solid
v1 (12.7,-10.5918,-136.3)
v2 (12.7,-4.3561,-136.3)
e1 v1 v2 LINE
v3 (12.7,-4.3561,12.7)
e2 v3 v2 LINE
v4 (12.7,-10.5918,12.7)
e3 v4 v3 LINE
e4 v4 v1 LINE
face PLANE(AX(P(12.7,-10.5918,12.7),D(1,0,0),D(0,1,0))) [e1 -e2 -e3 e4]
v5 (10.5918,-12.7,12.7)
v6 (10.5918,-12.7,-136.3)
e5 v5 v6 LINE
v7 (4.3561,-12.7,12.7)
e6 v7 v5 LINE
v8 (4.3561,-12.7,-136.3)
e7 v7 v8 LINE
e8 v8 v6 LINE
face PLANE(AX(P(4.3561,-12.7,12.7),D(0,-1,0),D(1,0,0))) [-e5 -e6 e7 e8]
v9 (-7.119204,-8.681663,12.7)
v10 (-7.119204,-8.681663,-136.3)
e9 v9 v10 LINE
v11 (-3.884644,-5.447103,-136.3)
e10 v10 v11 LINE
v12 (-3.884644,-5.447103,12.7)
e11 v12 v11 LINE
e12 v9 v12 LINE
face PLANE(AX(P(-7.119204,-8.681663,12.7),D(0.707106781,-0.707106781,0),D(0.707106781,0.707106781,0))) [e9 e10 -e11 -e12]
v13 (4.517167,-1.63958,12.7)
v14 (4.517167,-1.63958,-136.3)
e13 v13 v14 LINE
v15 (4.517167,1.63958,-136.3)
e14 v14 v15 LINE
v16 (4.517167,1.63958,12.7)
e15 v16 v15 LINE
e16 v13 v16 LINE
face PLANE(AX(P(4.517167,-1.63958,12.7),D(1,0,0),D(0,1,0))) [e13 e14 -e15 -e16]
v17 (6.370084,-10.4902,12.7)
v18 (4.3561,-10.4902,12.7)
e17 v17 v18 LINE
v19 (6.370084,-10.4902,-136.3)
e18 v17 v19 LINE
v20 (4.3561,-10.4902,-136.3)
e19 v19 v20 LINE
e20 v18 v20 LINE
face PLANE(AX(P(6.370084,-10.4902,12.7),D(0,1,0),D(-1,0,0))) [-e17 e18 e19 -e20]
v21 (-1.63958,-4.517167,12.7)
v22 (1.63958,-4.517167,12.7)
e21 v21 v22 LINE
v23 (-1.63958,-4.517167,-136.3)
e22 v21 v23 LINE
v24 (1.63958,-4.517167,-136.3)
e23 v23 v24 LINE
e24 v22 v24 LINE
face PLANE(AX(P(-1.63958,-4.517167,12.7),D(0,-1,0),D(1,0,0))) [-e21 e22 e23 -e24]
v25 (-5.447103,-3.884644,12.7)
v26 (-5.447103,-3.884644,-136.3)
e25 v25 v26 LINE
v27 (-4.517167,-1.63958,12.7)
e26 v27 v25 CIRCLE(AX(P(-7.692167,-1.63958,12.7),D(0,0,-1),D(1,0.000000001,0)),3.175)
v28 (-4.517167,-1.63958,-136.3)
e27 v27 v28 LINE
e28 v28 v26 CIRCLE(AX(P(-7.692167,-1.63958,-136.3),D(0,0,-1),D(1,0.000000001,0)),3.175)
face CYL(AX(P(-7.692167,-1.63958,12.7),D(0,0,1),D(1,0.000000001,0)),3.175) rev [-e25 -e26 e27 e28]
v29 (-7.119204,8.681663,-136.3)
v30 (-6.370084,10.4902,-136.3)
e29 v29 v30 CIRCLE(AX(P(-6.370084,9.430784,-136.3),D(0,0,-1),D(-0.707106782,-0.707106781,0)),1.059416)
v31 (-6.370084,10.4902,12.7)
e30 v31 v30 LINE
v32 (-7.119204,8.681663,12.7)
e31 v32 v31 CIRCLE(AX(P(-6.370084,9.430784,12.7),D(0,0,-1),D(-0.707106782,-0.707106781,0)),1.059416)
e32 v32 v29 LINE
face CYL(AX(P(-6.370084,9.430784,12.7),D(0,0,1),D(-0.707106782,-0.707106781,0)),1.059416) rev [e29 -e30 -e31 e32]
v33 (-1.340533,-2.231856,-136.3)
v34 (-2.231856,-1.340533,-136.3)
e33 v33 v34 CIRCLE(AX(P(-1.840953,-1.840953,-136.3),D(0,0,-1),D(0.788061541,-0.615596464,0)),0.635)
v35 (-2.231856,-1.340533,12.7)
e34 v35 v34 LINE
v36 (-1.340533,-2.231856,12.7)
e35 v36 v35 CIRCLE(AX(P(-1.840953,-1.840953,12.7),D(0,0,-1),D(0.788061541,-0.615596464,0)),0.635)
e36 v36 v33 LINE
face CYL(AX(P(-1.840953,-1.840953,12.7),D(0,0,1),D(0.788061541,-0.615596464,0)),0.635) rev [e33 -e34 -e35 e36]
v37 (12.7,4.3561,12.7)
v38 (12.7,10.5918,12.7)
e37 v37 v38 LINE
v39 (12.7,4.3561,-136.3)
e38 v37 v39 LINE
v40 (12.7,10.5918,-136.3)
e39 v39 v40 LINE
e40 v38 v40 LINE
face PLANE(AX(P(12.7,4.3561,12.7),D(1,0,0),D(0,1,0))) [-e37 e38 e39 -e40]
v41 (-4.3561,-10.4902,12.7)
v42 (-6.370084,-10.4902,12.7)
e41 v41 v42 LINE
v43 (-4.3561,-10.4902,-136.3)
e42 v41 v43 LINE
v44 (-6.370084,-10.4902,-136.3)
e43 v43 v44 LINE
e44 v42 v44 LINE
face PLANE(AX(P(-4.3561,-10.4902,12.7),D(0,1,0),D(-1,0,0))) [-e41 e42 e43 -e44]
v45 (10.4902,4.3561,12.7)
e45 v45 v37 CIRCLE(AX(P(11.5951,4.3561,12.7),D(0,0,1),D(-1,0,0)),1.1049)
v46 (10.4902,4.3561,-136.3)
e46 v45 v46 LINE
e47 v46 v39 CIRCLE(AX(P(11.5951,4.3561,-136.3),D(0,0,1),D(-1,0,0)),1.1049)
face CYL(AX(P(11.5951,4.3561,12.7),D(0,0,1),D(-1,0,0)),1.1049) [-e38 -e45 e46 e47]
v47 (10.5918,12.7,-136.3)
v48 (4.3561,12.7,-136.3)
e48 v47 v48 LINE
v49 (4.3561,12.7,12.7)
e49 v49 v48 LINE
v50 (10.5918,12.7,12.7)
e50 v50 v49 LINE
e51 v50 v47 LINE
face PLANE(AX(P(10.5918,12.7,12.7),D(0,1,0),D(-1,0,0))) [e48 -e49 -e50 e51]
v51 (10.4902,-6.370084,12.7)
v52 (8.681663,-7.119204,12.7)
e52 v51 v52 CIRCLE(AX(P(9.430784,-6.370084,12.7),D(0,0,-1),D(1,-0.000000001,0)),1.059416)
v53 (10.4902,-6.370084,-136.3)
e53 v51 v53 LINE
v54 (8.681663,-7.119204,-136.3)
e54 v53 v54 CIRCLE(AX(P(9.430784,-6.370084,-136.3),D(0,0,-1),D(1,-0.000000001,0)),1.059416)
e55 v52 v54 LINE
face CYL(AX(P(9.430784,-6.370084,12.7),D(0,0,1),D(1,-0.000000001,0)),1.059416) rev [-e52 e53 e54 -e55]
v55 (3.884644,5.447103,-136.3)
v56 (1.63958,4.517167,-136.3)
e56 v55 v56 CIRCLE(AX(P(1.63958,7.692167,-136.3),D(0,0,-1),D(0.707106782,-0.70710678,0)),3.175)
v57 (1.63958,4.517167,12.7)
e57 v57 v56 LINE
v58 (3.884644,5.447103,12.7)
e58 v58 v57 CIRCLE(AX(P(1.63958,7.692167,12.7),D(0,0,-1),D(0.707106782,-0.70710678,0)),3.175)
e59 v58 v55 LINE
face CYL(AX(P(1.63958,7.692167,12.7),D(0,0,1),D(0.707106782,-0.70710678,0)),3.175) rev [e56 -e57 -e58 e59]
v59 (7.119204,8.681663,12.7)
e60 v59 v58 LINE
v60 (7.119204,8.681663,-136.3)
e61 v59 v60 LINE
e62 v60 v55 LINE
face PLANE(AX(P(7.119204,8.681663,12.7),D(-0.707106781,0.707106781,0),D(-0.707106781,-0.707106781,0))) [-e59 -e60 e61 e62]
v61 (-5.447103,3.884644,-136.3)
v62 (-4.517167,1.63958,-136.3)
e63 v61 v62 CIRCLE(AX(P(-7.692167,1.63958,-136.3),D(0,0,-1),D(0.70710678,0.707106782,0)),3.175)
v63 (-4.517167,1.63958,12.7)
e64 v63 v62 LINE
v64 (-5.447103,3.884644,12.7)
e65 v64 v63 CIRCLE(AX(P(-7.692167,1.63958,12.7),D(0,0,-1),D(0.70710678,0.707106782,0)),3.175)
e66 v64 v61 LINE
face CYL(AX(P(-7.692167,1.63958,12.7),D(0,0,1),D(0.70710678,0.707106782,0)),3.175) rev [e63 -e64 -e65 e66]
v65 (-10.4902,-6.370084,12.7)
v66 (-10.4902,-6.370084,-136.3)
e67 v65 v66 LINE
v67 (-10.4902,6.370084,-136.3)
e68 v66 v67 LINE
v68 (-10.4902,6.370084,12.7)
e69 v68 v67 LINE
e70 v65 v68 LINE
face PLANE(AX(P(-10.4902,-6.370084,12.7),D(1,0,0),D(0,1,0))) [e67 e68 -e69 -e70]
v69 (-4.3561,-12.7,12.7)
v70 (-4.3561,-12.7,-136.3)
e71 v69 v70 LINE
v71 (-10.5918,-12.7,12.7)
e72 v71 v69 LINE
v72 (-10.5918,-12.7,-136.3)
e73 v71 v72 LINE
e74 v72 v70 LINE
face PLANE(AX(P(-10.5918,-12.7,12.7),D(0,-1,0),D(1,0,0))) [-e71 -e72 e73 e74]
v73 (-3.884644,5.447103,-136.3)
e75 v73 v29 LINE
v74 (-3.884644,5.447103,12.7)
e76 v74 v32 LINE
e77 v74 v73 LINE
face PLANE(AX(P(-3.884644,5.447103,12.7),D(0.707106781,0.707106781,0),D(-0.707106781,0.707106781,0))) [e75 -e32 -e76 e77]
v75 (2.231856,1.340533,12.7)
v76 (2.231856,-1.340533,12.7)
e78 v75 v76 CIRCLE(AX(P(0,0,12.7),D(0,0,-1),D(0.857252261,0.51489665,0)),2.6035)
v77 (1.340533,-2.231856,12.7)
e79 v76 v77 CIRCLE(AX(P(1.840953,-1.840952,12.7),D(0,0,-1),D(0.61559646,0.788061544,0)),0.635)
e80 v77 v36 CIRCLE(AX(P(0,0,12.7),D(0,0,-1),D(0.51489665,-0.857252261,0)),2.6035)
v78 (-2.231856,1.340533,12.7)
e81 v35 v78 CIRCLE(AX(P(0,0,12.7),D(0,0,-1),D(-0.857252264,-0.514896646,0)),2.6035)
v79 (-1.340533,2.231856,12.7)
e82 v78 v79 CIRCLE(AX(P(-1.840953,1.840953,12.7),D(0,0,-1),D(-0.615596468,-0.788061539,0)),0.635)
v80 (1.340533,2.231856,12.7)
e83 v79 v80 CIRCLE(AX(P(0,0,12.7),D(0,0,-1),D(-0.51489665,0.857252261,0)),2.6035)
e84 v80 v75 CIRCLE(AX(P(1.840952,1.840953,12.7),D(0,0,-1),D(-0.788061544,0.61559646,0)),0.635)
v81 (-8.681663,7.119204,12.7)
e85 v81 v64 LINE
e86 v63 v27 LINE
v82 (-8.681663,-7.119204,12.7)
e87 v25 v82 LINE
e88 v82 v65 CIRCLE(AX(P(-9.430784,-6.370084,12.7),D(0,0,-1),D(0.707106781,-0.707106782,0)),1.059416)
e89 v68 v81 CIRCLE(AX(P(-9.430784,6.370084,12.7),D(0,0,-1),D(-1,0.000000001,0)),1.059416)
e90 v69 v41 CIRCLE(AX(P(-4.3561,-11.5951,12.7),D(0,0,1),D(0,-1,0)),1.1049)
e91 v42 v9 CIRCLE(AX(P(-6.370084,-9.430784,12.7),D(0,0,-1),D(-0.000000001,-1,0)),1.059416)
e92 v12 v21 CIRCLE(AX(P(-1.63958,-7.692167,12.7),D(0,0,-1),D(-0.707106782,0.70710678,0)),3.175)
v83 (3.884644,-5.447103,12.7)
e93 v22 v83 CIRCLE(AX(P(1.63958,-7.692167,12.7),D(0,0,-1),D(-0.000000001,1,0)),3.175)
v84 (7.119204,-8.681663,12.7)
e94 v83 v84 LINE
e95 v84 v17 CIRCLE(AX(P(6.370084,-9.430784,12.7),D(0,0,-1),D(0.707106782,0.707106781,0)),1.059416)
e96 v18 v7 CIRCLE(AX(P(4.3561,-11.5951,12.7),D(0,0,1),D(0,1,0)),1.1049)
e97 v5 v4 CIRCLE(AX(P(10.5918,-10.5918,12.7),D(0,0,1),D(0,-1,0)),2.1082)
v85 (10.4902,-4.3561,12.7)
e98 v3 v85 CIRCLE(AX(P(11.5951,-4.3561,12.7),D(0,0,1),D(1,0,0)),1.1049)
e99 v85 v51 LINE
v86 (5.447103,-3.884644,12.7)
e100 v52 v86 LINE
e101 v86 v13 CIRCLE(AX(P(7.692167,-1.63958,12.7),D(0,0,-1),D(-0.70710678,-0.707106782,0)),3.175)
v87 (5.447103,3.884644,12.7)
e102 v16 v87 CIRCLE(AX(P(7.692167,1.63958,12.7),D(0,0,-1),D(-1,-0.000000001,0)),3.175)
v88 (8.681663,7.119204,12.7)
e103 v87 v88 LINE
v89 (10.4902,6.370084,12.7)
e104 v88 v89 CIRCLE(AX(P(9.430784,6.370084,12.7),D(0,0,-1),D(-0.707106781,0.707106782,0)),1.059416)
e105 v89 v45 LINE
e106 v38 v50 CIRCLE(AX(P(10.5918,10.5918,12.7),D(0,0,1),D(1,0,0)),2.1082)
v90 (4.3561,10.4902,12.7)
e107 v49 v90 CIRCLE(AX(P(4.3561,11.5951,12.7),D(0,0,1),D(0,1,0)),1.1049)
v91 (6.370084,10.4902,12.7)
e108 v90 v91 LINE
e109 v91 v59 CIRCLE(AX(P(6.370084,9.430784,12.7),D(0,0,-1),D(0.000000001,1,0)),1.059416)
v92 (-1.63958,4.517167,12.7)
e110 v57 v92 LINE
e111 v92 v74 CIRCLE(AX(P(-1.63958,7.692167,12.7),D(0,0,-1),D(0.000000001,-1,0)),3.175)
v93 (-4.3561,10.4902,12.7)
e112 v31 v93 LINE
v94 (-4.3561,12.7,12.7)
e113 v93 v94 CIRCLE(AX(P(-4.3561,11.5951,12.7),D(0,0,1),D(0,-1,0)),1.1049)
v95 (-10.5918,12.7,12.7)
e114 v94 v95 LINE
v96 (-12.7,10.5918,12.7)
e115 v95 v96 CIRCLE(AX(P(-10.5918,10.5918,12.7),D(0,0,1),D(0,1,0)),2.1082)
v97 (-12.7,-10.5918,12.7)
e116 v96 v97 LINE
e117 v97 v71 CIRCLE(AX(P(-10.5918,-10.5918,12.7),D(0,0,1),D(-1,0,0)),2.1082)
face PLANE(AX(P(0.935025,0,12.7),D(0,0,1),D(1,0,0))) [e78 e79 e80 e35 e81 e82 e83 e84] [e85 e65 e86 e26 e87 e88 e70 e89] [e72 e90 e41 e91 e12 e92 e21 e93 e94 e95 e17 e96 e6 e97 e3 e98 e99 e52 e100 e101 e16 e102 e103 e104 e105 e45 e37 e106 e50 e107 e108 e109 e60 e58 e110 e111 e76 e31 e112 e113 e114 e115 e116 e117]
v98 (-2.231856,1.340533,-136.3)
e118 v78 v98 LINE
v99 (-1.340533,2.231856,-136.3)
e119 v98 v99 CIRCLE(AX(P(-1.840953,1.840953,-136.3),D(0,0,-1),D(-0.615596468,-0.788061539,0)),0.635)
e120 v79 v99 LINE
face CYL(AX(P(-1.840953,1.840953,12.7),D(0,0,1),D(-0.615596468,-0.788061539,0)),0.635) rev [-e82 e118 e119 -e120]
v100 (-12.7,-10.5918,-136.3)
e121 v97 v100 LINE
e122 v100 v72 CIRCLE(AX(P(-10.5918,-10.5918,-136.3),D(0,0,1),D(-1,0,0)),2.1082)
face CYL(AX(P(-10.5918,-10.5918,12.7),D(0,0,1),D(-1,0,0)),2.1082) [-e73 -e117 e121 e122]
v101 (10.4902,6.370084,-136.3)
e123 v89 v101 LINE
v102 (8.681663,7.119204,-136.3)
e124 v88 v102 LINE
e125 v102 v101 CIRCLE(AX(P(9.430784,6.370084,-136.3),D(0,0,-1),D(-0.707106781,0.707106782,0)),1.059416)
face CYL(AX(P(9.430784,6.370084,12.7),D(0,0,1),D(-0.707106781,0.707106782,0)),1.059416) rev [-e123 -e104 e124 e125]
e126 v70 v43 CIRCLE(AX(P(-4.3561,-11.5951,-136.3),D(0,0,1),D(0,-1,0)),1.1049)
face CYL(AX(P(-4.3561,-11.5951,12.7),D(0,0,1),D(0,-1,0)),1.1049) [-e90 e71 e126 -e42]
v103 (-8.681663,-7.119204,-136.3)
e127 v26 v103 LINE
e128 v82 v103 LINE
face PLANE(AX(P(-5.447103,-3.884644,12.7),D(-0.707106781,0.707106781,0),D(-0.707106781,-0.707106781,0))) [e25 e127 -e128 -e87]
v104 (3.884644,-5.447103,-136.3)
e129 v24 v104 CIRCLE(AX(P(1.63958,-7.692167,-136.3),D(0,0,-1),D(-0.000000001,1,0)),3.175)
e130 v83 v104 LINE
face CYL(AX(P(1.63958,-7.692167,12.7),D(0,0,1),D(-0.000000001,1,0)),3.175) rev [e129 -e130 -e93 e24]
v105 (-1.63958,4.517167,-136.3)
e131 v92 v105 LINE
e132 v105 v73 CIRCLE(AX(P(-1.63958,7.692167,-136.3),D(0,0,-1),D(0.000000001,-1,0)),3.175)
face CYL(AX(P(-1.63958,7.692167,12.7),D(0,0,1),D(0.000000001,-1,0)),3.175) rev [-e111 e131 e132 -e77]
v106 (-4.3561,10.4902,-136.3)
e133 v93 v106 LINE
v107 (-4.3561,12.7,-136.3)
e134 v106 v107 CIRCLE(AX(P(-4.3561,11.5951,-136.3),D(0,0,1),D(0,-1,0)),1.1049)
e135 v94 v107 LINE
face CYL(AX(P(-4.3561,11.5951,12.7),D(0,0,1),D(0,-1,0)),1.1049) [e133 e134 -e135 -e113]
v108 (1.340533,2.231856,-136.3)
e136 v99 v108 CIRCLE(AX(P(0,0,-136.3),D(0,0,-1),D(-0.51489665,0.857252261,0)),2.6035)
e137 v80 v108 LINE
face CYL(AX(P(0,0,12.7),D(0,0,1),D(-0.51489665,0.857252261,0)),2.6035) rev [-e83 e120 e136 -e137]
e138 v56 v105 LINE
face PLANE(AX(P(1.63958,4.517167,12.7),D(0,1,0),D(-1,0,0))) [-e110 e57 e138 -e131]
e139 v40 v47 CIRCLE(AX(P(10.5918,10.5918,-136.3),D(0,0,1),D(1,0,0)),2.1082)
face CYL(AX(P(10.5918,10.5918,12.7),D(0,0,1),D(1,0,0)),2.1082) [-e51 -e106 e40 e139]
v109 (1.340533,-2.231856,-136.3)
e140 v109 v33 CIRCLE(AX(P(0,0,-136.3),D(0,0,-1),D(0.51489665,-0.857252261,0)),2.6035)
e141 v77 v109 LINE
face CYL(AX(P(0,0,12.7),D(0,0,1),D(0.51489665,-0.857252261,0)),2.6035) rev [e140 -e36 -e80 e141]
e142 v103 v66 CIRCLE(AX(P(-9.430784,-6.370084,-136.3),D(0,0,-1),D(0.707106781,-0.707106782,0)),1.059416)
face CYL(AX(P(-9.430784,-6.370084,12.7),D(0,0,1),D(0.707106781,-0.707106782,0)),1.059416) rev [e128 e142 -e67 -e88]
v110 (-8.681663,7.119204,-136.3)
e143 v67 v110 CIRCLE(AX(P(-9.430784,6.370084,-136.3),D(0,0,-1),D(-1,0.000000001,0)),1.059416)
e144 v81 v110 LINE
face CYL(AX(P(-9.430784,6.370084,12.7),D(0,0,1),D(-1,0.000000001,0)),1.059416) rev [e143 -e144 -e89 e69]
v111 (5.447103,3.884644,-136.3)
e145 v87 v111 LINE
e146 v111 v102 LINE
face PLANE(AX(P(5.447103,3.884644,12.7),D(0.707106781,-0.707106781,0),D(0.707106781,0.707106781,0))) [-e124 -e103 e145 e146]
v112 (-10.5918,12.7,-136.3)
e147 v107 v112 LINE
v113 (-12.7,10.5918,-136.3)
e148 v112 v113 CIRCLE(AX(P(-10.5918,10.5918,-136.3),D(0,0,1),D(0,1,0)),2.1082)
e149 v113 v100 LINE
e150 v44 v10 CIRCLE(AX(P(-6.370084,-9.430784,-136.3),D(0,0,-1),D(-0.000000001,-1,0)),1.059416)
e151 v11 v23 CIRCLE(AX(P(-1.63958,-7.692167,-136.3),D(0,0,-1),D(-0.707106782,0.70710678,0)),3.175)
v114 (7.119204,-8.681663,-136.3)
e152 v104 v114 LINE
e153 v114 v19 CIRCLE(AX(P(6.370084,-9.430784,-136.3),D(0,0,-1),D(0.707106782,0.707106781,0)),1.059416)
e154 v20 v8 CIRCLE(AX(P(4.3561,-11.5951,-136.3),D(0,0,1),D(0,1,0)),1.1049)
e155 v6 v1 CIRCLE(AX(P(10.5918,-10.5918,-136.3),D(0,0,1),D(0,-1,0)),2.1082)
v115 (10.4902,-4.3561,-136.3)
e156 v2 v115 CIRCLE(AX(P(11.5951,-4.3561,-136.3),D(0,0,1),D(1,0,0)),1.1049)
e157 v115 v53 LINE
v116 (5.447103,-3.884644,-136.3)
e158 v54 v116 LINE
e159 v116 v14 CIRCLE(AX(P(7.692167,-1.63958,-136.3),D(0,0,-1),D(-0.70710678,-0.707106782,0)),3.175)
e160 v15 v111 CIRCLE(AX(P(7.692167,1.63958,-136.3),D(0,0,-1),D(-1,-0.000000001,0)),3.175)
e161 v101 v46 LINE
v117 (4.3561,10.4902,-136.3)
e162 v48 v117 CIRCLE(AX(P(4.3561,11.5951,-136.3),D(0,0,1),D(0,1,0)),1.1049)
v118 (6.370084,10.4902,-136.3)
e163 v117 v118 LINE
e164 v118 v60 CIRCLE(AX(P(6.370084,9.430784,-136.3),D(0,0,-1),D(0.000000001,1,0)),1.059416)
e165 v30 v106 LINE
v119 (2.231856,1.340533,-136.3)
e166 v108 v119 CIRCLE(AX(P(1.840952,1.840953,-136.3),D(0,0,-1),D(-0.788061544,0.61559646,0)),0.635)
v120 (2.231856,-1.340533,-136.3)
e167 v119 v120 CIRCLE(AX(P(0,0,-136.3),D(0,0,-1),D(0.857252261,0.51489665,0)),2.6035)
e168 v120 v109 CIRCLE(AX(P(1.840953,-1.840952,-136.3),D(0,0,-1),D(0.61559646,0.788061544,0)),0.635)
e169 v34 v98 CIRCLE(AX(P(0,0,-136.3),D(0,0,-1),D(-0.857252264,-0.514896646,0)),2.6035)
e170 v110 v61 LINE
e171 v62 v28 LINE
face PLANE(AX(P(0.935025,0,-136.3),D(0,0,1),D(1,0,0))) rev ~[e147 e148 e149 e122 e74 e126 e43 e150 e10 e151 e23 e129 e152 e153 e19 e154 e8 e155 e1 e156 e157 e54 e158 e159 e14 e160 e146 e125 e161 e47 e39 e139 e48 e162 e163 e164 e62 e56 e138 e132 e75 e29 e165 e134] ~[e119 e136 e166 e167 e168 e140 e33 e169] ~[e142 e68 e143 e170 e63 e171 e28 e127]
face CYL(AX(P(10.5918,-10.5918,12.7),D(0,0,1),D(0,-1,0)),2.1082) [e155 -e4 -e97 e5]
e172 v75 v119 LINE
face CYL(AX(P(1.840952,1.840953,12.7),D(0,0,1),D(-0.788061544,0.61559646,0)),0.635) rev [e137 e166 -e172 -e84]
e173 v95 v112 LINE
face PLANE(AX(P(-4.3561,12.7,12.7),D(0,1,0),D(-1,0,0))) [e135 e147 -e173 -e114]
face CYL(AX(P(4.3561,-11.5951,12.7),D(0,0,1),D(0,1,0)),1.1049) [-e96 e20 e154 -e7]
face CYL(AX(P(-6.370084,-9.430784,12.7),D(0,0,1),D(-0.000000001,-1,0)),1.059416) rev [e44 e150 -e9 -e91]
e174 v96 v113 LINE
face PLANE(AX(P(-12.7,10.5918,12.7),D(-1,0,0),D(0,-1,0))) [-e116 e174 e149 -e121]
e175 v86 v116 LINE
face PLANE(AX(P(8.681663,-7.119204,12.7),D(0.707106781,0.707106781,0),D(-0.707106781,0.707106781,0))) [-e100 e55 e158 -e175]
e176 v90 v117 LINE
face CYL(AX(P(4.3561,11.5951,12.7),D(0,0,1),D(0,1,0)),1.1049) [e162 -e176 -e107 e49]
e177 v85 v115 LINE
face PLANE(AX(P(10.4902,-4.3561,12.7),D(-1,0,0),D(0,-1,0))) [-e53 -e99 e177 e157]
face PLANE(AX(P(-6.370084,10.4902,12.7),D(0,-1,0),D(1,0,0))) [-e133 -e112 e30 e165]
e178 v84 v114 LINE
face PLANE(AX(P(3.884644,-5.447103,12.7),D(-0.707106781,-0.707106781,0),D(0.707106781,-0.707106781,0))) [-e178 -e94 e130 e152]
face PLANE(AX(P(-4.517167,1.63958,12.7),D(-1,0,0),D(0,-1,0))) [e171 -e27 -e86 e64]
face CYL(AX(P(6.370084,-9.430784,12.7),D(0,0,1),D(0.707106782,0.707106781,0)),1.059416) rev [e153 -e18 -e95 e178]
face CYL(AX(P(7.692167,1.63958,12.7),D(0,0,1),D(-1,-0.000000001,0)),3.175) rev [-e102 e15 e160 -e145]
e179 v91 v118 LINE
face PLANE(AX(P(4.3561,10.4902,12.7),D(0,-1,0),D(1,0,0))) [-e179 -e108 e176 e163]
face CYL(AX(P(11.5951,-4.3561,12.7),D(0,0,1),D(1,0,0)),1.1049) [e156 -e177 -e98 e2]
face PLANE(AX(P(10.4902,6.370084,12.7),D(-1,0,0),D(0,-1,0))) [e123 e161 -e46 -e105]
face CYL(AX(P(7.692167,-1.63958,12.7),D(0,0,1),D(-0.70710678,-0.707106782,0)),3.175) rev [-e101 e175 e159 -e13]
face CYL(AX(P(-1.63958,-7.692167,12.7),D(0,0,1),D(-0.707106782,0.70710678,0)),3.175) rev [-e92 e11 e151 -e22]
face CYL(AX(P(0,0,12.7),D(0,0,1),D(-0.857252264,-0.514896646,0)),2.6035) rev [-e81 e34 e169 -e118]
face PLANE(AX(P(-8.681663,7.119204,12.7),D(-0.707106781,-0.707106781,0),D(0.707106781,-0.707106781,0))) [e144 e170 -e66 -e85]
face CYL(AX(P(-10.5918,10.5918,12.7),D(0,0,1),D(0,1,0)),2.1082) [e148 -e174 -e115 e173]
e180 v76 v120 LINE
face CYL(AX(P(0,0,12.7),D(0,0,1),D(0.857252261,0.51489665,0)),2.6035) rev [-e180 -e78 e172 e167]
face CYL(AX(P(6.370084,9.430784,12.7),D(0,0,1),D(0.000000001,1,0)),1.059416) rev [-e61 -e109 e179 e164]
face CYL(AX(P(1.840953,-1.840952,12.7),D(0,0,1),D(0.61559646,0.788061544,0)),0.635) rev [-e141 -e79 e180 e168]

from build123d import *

# Parameters (mm, degrees)
BOSS_EXTRUDE1_DEPTH = 149


with BuildPart() as part:
    # Sketch1 → Boss-Extrude1 (new body)
    with BuildSketch(Plane.XY.offset(12.7)):
        with BuildLine():
            Line((-12.7, 10.5918), (-12.7, -10.5918))
            ThreePointArc((-12.7, -10.5918), (-12.082522516, -12.082522516), (-10.5918, -12.7))
            Line((-10.5918, -12.7), (-4.3561, -12.7))
            ThreePointArc((-4.3561, -12.7), (-3.2512, -11.5951), (-4.3561, -10.4902))
            Line((-4.3561, -10.4902), (-6.370083784, -10.4902))
            ThreePointArc((-6.370083784, -10.4902), (-7.34885674, -9.836204819), (-7.119204173, -8.681663397))
            Line((-7.119204173, -8.681663397), (-3.884643888, -5.447103113))
            ThreePointArc((-3.884643888, -5.447103113), (-2.854599756, -4.758849627), (-1.639579858, -4.517167143))
            Line((-1.639579858, -4.517167143), (1.639579858, -4.517167143))
            ThreePointArc((1.639579858, -4.517167143), (2.854599756, -4.758849627), (3.884643888, -5.447103113))
            Line((3.884643888, -5.447103113), (7.119204173, -8.681663397))
            ThreePointArc((7.119204173, -8.681663397), (7.34885674, -9.836204819), (6.370083784, -10.4902))
            Line((6.370083784, -10.4902), (4.356099789, -10.4902))
            ThreePointArc((4.356099789, -10.4902), (3.251199789, -11.5951), (4.356099789, -12.7))
            Line((4.356099789, -12.7), (10.5918, -12.7))
            ThreePointArc((10.5918, -12.7), (12.082522516, -12.082522516), (12.7, -10.5918))
            Line((12.7, -10.5918), (12.7, -4.3561))
            ThreePointArc((12.7, -4.3561), (11.5951, -3.2512), (10.4902, -4.3561))
            Line((10.4902, -4.3561), (10.4902, -6.370083784))
            ThreePointArc((10.4902, -6.370083784), (9.836204819, -7.34885674), (8.681663397, -7.119204173))
            Line((8.681663397, -7.119204173), (5.447103113, -3.884643888))
            ThreePointArc((5.447103113, -3.884643888), (4.758849627, -2.854599756), (4.517167143, -1.639579858))
            Line((4.517167143, -1.639579858), (4.517167143, 1.639579858))
            ThreePointArc((4.517167143, 1.639579858), (4.758849627, 2.854599756), (5.447103113, 3.884643888))
            Line((5.447103113, 3.884643888), (8.681663397, 7.119204173))
            ThreePointArc((8.681663397, 7.119204173), (9.836204819, 7.34885674), (10.4902, 6.370083784))
            Line((10.4902, 6.370083784), (10.4902, 4.3561))
            ThreePointArc((10.4902, 4.3561), (11.5951, 3.2512), (12.7, 4.3561))
            Line((12.7, 4.3561), (12.7, 10.5918))
            ThreePointArc((12.7, 10.5918), (12.082522516, 12.082522516), (10.5918, 12.7))
            Line((10.5918, 12.7), (4.3561, 12.7))
            ThreePointArc((4.3561, 12.7), (3.2512, 11.5951), (4.3561, 10.4902))
            Line((4.3561, 10.4902), (6.370083784, 10.4902))
            ThreePointArc((6.370083784, 10.4902), (7.34885674, 9.836204819), (7.119204173, 8.681663397))
            Line((7.119204173, 8.681663397), (3.884643888, 5.447103113))
            ThreePointArc((3.884643888, 5.447103113), (2.854599756, 4.758849627), (1.639579858, 4.517167143))
            Line((1.639579858, 4.517167143), (-1.639579858, 4.517167143))
            ThreePointArc((-1.639579858, 4.517167143), (-2.854599756, 4.758849627), (-3.884643888, 5.447103113))
            Line((-3.884643888, 5.447103113), (-7.119204173, 8.681663397))
            ThreePointArc((-7.119204173, 8.681663397), (-7.34885674, 9.836204819), (-6.370083784, 10.4902))
            Line((-6.370083784, 10.4902), (-4.356099789, 10.4902))
            ThreePointArc((-4.356099789, 10.4902), (-3.251199789, 11.5951), (-4.356099789, 12.7))
            Line((-4.356099789, 12.7), (-10.5918, 12.7))
            ThreePointArc((-10.5918, 12.7), (-12.082522516, 12.082522516), (-12.7, 10.5918))
        make_face()
        with BuildLine():
            Line((-8.681663397, 7.119204173), (-5.447103113, 3.884643888))
            ThreePointArc((-5.447103113, 3.884643888), (-4.758849627, 2.854599756), (-4.517167143, 1.639579858))
            Line((-4.517167143, 1.639579858), (-4.517167143, -1.639579858))
            ThreePointArc((-4.517167143, -1.639579858), (-4.758849627, -2.854599756), (-5.447103113, -3.884643888))
            Line((-5.447103113, -3.884643888), (-8.681663397, -7.119204173))
            ThreePointArc((-8.681663397, -7.119204173), (-9.836204819, -7.34885674), (-10.4902, -6.370083784))
            Line((-10.4902, -6.370083784), (-10.4902, 6.370083784))
            ThreePointArc((-10.4902, 6.370083784), (-9.836204819, 7.34885674), (-8.681663397, 7.119204173))
        make_face(mode=Mode.SUBTRACT)
        with BuildLine():
            ThreePointArc((-2.231856261, 1.340533427), (-2.28996531, 2.28996531), (-1.340533427, 2.231856261))
            ThreePointArc((-1.340533427, 2.231856261), (-1.1e-08, 2.603499998), (1.340533408, 2.231856273))
            ThreePointArc((1.340533408, 2.231856273), (2.28996531, 2.28996533), (2.231856262, 1.340533427))
            ThreePointArc((2.231856262, 1.340533427), (2.603499999, 1.1e-08), (2.231856274, -1.340533408))
            ThreePointArc((2.231856274, -1.340533408), (2.289965331, -2.28996531), (1.340533428, -2.231856262))
            ThreePointArc((1.340533428, -2.231856262), (6e-09, -2.603499999), (-1.340533417, -2.231856268))
            ThreePointArc((-1.340533417, -2.231856268), (-2.28996532, -2.28996532), (-2.231856267, -1.340533417))
            ThreePointArc((-2.231856267, -1.340533417), (-2.603499998, 6e-09), (-2.231856261, 1.340533427))
        make_face(mode=Mode.SUBTRACT)
    extrude(amount=-BOSS_EXTRUDE1_DEPTH)


solid = part.part
